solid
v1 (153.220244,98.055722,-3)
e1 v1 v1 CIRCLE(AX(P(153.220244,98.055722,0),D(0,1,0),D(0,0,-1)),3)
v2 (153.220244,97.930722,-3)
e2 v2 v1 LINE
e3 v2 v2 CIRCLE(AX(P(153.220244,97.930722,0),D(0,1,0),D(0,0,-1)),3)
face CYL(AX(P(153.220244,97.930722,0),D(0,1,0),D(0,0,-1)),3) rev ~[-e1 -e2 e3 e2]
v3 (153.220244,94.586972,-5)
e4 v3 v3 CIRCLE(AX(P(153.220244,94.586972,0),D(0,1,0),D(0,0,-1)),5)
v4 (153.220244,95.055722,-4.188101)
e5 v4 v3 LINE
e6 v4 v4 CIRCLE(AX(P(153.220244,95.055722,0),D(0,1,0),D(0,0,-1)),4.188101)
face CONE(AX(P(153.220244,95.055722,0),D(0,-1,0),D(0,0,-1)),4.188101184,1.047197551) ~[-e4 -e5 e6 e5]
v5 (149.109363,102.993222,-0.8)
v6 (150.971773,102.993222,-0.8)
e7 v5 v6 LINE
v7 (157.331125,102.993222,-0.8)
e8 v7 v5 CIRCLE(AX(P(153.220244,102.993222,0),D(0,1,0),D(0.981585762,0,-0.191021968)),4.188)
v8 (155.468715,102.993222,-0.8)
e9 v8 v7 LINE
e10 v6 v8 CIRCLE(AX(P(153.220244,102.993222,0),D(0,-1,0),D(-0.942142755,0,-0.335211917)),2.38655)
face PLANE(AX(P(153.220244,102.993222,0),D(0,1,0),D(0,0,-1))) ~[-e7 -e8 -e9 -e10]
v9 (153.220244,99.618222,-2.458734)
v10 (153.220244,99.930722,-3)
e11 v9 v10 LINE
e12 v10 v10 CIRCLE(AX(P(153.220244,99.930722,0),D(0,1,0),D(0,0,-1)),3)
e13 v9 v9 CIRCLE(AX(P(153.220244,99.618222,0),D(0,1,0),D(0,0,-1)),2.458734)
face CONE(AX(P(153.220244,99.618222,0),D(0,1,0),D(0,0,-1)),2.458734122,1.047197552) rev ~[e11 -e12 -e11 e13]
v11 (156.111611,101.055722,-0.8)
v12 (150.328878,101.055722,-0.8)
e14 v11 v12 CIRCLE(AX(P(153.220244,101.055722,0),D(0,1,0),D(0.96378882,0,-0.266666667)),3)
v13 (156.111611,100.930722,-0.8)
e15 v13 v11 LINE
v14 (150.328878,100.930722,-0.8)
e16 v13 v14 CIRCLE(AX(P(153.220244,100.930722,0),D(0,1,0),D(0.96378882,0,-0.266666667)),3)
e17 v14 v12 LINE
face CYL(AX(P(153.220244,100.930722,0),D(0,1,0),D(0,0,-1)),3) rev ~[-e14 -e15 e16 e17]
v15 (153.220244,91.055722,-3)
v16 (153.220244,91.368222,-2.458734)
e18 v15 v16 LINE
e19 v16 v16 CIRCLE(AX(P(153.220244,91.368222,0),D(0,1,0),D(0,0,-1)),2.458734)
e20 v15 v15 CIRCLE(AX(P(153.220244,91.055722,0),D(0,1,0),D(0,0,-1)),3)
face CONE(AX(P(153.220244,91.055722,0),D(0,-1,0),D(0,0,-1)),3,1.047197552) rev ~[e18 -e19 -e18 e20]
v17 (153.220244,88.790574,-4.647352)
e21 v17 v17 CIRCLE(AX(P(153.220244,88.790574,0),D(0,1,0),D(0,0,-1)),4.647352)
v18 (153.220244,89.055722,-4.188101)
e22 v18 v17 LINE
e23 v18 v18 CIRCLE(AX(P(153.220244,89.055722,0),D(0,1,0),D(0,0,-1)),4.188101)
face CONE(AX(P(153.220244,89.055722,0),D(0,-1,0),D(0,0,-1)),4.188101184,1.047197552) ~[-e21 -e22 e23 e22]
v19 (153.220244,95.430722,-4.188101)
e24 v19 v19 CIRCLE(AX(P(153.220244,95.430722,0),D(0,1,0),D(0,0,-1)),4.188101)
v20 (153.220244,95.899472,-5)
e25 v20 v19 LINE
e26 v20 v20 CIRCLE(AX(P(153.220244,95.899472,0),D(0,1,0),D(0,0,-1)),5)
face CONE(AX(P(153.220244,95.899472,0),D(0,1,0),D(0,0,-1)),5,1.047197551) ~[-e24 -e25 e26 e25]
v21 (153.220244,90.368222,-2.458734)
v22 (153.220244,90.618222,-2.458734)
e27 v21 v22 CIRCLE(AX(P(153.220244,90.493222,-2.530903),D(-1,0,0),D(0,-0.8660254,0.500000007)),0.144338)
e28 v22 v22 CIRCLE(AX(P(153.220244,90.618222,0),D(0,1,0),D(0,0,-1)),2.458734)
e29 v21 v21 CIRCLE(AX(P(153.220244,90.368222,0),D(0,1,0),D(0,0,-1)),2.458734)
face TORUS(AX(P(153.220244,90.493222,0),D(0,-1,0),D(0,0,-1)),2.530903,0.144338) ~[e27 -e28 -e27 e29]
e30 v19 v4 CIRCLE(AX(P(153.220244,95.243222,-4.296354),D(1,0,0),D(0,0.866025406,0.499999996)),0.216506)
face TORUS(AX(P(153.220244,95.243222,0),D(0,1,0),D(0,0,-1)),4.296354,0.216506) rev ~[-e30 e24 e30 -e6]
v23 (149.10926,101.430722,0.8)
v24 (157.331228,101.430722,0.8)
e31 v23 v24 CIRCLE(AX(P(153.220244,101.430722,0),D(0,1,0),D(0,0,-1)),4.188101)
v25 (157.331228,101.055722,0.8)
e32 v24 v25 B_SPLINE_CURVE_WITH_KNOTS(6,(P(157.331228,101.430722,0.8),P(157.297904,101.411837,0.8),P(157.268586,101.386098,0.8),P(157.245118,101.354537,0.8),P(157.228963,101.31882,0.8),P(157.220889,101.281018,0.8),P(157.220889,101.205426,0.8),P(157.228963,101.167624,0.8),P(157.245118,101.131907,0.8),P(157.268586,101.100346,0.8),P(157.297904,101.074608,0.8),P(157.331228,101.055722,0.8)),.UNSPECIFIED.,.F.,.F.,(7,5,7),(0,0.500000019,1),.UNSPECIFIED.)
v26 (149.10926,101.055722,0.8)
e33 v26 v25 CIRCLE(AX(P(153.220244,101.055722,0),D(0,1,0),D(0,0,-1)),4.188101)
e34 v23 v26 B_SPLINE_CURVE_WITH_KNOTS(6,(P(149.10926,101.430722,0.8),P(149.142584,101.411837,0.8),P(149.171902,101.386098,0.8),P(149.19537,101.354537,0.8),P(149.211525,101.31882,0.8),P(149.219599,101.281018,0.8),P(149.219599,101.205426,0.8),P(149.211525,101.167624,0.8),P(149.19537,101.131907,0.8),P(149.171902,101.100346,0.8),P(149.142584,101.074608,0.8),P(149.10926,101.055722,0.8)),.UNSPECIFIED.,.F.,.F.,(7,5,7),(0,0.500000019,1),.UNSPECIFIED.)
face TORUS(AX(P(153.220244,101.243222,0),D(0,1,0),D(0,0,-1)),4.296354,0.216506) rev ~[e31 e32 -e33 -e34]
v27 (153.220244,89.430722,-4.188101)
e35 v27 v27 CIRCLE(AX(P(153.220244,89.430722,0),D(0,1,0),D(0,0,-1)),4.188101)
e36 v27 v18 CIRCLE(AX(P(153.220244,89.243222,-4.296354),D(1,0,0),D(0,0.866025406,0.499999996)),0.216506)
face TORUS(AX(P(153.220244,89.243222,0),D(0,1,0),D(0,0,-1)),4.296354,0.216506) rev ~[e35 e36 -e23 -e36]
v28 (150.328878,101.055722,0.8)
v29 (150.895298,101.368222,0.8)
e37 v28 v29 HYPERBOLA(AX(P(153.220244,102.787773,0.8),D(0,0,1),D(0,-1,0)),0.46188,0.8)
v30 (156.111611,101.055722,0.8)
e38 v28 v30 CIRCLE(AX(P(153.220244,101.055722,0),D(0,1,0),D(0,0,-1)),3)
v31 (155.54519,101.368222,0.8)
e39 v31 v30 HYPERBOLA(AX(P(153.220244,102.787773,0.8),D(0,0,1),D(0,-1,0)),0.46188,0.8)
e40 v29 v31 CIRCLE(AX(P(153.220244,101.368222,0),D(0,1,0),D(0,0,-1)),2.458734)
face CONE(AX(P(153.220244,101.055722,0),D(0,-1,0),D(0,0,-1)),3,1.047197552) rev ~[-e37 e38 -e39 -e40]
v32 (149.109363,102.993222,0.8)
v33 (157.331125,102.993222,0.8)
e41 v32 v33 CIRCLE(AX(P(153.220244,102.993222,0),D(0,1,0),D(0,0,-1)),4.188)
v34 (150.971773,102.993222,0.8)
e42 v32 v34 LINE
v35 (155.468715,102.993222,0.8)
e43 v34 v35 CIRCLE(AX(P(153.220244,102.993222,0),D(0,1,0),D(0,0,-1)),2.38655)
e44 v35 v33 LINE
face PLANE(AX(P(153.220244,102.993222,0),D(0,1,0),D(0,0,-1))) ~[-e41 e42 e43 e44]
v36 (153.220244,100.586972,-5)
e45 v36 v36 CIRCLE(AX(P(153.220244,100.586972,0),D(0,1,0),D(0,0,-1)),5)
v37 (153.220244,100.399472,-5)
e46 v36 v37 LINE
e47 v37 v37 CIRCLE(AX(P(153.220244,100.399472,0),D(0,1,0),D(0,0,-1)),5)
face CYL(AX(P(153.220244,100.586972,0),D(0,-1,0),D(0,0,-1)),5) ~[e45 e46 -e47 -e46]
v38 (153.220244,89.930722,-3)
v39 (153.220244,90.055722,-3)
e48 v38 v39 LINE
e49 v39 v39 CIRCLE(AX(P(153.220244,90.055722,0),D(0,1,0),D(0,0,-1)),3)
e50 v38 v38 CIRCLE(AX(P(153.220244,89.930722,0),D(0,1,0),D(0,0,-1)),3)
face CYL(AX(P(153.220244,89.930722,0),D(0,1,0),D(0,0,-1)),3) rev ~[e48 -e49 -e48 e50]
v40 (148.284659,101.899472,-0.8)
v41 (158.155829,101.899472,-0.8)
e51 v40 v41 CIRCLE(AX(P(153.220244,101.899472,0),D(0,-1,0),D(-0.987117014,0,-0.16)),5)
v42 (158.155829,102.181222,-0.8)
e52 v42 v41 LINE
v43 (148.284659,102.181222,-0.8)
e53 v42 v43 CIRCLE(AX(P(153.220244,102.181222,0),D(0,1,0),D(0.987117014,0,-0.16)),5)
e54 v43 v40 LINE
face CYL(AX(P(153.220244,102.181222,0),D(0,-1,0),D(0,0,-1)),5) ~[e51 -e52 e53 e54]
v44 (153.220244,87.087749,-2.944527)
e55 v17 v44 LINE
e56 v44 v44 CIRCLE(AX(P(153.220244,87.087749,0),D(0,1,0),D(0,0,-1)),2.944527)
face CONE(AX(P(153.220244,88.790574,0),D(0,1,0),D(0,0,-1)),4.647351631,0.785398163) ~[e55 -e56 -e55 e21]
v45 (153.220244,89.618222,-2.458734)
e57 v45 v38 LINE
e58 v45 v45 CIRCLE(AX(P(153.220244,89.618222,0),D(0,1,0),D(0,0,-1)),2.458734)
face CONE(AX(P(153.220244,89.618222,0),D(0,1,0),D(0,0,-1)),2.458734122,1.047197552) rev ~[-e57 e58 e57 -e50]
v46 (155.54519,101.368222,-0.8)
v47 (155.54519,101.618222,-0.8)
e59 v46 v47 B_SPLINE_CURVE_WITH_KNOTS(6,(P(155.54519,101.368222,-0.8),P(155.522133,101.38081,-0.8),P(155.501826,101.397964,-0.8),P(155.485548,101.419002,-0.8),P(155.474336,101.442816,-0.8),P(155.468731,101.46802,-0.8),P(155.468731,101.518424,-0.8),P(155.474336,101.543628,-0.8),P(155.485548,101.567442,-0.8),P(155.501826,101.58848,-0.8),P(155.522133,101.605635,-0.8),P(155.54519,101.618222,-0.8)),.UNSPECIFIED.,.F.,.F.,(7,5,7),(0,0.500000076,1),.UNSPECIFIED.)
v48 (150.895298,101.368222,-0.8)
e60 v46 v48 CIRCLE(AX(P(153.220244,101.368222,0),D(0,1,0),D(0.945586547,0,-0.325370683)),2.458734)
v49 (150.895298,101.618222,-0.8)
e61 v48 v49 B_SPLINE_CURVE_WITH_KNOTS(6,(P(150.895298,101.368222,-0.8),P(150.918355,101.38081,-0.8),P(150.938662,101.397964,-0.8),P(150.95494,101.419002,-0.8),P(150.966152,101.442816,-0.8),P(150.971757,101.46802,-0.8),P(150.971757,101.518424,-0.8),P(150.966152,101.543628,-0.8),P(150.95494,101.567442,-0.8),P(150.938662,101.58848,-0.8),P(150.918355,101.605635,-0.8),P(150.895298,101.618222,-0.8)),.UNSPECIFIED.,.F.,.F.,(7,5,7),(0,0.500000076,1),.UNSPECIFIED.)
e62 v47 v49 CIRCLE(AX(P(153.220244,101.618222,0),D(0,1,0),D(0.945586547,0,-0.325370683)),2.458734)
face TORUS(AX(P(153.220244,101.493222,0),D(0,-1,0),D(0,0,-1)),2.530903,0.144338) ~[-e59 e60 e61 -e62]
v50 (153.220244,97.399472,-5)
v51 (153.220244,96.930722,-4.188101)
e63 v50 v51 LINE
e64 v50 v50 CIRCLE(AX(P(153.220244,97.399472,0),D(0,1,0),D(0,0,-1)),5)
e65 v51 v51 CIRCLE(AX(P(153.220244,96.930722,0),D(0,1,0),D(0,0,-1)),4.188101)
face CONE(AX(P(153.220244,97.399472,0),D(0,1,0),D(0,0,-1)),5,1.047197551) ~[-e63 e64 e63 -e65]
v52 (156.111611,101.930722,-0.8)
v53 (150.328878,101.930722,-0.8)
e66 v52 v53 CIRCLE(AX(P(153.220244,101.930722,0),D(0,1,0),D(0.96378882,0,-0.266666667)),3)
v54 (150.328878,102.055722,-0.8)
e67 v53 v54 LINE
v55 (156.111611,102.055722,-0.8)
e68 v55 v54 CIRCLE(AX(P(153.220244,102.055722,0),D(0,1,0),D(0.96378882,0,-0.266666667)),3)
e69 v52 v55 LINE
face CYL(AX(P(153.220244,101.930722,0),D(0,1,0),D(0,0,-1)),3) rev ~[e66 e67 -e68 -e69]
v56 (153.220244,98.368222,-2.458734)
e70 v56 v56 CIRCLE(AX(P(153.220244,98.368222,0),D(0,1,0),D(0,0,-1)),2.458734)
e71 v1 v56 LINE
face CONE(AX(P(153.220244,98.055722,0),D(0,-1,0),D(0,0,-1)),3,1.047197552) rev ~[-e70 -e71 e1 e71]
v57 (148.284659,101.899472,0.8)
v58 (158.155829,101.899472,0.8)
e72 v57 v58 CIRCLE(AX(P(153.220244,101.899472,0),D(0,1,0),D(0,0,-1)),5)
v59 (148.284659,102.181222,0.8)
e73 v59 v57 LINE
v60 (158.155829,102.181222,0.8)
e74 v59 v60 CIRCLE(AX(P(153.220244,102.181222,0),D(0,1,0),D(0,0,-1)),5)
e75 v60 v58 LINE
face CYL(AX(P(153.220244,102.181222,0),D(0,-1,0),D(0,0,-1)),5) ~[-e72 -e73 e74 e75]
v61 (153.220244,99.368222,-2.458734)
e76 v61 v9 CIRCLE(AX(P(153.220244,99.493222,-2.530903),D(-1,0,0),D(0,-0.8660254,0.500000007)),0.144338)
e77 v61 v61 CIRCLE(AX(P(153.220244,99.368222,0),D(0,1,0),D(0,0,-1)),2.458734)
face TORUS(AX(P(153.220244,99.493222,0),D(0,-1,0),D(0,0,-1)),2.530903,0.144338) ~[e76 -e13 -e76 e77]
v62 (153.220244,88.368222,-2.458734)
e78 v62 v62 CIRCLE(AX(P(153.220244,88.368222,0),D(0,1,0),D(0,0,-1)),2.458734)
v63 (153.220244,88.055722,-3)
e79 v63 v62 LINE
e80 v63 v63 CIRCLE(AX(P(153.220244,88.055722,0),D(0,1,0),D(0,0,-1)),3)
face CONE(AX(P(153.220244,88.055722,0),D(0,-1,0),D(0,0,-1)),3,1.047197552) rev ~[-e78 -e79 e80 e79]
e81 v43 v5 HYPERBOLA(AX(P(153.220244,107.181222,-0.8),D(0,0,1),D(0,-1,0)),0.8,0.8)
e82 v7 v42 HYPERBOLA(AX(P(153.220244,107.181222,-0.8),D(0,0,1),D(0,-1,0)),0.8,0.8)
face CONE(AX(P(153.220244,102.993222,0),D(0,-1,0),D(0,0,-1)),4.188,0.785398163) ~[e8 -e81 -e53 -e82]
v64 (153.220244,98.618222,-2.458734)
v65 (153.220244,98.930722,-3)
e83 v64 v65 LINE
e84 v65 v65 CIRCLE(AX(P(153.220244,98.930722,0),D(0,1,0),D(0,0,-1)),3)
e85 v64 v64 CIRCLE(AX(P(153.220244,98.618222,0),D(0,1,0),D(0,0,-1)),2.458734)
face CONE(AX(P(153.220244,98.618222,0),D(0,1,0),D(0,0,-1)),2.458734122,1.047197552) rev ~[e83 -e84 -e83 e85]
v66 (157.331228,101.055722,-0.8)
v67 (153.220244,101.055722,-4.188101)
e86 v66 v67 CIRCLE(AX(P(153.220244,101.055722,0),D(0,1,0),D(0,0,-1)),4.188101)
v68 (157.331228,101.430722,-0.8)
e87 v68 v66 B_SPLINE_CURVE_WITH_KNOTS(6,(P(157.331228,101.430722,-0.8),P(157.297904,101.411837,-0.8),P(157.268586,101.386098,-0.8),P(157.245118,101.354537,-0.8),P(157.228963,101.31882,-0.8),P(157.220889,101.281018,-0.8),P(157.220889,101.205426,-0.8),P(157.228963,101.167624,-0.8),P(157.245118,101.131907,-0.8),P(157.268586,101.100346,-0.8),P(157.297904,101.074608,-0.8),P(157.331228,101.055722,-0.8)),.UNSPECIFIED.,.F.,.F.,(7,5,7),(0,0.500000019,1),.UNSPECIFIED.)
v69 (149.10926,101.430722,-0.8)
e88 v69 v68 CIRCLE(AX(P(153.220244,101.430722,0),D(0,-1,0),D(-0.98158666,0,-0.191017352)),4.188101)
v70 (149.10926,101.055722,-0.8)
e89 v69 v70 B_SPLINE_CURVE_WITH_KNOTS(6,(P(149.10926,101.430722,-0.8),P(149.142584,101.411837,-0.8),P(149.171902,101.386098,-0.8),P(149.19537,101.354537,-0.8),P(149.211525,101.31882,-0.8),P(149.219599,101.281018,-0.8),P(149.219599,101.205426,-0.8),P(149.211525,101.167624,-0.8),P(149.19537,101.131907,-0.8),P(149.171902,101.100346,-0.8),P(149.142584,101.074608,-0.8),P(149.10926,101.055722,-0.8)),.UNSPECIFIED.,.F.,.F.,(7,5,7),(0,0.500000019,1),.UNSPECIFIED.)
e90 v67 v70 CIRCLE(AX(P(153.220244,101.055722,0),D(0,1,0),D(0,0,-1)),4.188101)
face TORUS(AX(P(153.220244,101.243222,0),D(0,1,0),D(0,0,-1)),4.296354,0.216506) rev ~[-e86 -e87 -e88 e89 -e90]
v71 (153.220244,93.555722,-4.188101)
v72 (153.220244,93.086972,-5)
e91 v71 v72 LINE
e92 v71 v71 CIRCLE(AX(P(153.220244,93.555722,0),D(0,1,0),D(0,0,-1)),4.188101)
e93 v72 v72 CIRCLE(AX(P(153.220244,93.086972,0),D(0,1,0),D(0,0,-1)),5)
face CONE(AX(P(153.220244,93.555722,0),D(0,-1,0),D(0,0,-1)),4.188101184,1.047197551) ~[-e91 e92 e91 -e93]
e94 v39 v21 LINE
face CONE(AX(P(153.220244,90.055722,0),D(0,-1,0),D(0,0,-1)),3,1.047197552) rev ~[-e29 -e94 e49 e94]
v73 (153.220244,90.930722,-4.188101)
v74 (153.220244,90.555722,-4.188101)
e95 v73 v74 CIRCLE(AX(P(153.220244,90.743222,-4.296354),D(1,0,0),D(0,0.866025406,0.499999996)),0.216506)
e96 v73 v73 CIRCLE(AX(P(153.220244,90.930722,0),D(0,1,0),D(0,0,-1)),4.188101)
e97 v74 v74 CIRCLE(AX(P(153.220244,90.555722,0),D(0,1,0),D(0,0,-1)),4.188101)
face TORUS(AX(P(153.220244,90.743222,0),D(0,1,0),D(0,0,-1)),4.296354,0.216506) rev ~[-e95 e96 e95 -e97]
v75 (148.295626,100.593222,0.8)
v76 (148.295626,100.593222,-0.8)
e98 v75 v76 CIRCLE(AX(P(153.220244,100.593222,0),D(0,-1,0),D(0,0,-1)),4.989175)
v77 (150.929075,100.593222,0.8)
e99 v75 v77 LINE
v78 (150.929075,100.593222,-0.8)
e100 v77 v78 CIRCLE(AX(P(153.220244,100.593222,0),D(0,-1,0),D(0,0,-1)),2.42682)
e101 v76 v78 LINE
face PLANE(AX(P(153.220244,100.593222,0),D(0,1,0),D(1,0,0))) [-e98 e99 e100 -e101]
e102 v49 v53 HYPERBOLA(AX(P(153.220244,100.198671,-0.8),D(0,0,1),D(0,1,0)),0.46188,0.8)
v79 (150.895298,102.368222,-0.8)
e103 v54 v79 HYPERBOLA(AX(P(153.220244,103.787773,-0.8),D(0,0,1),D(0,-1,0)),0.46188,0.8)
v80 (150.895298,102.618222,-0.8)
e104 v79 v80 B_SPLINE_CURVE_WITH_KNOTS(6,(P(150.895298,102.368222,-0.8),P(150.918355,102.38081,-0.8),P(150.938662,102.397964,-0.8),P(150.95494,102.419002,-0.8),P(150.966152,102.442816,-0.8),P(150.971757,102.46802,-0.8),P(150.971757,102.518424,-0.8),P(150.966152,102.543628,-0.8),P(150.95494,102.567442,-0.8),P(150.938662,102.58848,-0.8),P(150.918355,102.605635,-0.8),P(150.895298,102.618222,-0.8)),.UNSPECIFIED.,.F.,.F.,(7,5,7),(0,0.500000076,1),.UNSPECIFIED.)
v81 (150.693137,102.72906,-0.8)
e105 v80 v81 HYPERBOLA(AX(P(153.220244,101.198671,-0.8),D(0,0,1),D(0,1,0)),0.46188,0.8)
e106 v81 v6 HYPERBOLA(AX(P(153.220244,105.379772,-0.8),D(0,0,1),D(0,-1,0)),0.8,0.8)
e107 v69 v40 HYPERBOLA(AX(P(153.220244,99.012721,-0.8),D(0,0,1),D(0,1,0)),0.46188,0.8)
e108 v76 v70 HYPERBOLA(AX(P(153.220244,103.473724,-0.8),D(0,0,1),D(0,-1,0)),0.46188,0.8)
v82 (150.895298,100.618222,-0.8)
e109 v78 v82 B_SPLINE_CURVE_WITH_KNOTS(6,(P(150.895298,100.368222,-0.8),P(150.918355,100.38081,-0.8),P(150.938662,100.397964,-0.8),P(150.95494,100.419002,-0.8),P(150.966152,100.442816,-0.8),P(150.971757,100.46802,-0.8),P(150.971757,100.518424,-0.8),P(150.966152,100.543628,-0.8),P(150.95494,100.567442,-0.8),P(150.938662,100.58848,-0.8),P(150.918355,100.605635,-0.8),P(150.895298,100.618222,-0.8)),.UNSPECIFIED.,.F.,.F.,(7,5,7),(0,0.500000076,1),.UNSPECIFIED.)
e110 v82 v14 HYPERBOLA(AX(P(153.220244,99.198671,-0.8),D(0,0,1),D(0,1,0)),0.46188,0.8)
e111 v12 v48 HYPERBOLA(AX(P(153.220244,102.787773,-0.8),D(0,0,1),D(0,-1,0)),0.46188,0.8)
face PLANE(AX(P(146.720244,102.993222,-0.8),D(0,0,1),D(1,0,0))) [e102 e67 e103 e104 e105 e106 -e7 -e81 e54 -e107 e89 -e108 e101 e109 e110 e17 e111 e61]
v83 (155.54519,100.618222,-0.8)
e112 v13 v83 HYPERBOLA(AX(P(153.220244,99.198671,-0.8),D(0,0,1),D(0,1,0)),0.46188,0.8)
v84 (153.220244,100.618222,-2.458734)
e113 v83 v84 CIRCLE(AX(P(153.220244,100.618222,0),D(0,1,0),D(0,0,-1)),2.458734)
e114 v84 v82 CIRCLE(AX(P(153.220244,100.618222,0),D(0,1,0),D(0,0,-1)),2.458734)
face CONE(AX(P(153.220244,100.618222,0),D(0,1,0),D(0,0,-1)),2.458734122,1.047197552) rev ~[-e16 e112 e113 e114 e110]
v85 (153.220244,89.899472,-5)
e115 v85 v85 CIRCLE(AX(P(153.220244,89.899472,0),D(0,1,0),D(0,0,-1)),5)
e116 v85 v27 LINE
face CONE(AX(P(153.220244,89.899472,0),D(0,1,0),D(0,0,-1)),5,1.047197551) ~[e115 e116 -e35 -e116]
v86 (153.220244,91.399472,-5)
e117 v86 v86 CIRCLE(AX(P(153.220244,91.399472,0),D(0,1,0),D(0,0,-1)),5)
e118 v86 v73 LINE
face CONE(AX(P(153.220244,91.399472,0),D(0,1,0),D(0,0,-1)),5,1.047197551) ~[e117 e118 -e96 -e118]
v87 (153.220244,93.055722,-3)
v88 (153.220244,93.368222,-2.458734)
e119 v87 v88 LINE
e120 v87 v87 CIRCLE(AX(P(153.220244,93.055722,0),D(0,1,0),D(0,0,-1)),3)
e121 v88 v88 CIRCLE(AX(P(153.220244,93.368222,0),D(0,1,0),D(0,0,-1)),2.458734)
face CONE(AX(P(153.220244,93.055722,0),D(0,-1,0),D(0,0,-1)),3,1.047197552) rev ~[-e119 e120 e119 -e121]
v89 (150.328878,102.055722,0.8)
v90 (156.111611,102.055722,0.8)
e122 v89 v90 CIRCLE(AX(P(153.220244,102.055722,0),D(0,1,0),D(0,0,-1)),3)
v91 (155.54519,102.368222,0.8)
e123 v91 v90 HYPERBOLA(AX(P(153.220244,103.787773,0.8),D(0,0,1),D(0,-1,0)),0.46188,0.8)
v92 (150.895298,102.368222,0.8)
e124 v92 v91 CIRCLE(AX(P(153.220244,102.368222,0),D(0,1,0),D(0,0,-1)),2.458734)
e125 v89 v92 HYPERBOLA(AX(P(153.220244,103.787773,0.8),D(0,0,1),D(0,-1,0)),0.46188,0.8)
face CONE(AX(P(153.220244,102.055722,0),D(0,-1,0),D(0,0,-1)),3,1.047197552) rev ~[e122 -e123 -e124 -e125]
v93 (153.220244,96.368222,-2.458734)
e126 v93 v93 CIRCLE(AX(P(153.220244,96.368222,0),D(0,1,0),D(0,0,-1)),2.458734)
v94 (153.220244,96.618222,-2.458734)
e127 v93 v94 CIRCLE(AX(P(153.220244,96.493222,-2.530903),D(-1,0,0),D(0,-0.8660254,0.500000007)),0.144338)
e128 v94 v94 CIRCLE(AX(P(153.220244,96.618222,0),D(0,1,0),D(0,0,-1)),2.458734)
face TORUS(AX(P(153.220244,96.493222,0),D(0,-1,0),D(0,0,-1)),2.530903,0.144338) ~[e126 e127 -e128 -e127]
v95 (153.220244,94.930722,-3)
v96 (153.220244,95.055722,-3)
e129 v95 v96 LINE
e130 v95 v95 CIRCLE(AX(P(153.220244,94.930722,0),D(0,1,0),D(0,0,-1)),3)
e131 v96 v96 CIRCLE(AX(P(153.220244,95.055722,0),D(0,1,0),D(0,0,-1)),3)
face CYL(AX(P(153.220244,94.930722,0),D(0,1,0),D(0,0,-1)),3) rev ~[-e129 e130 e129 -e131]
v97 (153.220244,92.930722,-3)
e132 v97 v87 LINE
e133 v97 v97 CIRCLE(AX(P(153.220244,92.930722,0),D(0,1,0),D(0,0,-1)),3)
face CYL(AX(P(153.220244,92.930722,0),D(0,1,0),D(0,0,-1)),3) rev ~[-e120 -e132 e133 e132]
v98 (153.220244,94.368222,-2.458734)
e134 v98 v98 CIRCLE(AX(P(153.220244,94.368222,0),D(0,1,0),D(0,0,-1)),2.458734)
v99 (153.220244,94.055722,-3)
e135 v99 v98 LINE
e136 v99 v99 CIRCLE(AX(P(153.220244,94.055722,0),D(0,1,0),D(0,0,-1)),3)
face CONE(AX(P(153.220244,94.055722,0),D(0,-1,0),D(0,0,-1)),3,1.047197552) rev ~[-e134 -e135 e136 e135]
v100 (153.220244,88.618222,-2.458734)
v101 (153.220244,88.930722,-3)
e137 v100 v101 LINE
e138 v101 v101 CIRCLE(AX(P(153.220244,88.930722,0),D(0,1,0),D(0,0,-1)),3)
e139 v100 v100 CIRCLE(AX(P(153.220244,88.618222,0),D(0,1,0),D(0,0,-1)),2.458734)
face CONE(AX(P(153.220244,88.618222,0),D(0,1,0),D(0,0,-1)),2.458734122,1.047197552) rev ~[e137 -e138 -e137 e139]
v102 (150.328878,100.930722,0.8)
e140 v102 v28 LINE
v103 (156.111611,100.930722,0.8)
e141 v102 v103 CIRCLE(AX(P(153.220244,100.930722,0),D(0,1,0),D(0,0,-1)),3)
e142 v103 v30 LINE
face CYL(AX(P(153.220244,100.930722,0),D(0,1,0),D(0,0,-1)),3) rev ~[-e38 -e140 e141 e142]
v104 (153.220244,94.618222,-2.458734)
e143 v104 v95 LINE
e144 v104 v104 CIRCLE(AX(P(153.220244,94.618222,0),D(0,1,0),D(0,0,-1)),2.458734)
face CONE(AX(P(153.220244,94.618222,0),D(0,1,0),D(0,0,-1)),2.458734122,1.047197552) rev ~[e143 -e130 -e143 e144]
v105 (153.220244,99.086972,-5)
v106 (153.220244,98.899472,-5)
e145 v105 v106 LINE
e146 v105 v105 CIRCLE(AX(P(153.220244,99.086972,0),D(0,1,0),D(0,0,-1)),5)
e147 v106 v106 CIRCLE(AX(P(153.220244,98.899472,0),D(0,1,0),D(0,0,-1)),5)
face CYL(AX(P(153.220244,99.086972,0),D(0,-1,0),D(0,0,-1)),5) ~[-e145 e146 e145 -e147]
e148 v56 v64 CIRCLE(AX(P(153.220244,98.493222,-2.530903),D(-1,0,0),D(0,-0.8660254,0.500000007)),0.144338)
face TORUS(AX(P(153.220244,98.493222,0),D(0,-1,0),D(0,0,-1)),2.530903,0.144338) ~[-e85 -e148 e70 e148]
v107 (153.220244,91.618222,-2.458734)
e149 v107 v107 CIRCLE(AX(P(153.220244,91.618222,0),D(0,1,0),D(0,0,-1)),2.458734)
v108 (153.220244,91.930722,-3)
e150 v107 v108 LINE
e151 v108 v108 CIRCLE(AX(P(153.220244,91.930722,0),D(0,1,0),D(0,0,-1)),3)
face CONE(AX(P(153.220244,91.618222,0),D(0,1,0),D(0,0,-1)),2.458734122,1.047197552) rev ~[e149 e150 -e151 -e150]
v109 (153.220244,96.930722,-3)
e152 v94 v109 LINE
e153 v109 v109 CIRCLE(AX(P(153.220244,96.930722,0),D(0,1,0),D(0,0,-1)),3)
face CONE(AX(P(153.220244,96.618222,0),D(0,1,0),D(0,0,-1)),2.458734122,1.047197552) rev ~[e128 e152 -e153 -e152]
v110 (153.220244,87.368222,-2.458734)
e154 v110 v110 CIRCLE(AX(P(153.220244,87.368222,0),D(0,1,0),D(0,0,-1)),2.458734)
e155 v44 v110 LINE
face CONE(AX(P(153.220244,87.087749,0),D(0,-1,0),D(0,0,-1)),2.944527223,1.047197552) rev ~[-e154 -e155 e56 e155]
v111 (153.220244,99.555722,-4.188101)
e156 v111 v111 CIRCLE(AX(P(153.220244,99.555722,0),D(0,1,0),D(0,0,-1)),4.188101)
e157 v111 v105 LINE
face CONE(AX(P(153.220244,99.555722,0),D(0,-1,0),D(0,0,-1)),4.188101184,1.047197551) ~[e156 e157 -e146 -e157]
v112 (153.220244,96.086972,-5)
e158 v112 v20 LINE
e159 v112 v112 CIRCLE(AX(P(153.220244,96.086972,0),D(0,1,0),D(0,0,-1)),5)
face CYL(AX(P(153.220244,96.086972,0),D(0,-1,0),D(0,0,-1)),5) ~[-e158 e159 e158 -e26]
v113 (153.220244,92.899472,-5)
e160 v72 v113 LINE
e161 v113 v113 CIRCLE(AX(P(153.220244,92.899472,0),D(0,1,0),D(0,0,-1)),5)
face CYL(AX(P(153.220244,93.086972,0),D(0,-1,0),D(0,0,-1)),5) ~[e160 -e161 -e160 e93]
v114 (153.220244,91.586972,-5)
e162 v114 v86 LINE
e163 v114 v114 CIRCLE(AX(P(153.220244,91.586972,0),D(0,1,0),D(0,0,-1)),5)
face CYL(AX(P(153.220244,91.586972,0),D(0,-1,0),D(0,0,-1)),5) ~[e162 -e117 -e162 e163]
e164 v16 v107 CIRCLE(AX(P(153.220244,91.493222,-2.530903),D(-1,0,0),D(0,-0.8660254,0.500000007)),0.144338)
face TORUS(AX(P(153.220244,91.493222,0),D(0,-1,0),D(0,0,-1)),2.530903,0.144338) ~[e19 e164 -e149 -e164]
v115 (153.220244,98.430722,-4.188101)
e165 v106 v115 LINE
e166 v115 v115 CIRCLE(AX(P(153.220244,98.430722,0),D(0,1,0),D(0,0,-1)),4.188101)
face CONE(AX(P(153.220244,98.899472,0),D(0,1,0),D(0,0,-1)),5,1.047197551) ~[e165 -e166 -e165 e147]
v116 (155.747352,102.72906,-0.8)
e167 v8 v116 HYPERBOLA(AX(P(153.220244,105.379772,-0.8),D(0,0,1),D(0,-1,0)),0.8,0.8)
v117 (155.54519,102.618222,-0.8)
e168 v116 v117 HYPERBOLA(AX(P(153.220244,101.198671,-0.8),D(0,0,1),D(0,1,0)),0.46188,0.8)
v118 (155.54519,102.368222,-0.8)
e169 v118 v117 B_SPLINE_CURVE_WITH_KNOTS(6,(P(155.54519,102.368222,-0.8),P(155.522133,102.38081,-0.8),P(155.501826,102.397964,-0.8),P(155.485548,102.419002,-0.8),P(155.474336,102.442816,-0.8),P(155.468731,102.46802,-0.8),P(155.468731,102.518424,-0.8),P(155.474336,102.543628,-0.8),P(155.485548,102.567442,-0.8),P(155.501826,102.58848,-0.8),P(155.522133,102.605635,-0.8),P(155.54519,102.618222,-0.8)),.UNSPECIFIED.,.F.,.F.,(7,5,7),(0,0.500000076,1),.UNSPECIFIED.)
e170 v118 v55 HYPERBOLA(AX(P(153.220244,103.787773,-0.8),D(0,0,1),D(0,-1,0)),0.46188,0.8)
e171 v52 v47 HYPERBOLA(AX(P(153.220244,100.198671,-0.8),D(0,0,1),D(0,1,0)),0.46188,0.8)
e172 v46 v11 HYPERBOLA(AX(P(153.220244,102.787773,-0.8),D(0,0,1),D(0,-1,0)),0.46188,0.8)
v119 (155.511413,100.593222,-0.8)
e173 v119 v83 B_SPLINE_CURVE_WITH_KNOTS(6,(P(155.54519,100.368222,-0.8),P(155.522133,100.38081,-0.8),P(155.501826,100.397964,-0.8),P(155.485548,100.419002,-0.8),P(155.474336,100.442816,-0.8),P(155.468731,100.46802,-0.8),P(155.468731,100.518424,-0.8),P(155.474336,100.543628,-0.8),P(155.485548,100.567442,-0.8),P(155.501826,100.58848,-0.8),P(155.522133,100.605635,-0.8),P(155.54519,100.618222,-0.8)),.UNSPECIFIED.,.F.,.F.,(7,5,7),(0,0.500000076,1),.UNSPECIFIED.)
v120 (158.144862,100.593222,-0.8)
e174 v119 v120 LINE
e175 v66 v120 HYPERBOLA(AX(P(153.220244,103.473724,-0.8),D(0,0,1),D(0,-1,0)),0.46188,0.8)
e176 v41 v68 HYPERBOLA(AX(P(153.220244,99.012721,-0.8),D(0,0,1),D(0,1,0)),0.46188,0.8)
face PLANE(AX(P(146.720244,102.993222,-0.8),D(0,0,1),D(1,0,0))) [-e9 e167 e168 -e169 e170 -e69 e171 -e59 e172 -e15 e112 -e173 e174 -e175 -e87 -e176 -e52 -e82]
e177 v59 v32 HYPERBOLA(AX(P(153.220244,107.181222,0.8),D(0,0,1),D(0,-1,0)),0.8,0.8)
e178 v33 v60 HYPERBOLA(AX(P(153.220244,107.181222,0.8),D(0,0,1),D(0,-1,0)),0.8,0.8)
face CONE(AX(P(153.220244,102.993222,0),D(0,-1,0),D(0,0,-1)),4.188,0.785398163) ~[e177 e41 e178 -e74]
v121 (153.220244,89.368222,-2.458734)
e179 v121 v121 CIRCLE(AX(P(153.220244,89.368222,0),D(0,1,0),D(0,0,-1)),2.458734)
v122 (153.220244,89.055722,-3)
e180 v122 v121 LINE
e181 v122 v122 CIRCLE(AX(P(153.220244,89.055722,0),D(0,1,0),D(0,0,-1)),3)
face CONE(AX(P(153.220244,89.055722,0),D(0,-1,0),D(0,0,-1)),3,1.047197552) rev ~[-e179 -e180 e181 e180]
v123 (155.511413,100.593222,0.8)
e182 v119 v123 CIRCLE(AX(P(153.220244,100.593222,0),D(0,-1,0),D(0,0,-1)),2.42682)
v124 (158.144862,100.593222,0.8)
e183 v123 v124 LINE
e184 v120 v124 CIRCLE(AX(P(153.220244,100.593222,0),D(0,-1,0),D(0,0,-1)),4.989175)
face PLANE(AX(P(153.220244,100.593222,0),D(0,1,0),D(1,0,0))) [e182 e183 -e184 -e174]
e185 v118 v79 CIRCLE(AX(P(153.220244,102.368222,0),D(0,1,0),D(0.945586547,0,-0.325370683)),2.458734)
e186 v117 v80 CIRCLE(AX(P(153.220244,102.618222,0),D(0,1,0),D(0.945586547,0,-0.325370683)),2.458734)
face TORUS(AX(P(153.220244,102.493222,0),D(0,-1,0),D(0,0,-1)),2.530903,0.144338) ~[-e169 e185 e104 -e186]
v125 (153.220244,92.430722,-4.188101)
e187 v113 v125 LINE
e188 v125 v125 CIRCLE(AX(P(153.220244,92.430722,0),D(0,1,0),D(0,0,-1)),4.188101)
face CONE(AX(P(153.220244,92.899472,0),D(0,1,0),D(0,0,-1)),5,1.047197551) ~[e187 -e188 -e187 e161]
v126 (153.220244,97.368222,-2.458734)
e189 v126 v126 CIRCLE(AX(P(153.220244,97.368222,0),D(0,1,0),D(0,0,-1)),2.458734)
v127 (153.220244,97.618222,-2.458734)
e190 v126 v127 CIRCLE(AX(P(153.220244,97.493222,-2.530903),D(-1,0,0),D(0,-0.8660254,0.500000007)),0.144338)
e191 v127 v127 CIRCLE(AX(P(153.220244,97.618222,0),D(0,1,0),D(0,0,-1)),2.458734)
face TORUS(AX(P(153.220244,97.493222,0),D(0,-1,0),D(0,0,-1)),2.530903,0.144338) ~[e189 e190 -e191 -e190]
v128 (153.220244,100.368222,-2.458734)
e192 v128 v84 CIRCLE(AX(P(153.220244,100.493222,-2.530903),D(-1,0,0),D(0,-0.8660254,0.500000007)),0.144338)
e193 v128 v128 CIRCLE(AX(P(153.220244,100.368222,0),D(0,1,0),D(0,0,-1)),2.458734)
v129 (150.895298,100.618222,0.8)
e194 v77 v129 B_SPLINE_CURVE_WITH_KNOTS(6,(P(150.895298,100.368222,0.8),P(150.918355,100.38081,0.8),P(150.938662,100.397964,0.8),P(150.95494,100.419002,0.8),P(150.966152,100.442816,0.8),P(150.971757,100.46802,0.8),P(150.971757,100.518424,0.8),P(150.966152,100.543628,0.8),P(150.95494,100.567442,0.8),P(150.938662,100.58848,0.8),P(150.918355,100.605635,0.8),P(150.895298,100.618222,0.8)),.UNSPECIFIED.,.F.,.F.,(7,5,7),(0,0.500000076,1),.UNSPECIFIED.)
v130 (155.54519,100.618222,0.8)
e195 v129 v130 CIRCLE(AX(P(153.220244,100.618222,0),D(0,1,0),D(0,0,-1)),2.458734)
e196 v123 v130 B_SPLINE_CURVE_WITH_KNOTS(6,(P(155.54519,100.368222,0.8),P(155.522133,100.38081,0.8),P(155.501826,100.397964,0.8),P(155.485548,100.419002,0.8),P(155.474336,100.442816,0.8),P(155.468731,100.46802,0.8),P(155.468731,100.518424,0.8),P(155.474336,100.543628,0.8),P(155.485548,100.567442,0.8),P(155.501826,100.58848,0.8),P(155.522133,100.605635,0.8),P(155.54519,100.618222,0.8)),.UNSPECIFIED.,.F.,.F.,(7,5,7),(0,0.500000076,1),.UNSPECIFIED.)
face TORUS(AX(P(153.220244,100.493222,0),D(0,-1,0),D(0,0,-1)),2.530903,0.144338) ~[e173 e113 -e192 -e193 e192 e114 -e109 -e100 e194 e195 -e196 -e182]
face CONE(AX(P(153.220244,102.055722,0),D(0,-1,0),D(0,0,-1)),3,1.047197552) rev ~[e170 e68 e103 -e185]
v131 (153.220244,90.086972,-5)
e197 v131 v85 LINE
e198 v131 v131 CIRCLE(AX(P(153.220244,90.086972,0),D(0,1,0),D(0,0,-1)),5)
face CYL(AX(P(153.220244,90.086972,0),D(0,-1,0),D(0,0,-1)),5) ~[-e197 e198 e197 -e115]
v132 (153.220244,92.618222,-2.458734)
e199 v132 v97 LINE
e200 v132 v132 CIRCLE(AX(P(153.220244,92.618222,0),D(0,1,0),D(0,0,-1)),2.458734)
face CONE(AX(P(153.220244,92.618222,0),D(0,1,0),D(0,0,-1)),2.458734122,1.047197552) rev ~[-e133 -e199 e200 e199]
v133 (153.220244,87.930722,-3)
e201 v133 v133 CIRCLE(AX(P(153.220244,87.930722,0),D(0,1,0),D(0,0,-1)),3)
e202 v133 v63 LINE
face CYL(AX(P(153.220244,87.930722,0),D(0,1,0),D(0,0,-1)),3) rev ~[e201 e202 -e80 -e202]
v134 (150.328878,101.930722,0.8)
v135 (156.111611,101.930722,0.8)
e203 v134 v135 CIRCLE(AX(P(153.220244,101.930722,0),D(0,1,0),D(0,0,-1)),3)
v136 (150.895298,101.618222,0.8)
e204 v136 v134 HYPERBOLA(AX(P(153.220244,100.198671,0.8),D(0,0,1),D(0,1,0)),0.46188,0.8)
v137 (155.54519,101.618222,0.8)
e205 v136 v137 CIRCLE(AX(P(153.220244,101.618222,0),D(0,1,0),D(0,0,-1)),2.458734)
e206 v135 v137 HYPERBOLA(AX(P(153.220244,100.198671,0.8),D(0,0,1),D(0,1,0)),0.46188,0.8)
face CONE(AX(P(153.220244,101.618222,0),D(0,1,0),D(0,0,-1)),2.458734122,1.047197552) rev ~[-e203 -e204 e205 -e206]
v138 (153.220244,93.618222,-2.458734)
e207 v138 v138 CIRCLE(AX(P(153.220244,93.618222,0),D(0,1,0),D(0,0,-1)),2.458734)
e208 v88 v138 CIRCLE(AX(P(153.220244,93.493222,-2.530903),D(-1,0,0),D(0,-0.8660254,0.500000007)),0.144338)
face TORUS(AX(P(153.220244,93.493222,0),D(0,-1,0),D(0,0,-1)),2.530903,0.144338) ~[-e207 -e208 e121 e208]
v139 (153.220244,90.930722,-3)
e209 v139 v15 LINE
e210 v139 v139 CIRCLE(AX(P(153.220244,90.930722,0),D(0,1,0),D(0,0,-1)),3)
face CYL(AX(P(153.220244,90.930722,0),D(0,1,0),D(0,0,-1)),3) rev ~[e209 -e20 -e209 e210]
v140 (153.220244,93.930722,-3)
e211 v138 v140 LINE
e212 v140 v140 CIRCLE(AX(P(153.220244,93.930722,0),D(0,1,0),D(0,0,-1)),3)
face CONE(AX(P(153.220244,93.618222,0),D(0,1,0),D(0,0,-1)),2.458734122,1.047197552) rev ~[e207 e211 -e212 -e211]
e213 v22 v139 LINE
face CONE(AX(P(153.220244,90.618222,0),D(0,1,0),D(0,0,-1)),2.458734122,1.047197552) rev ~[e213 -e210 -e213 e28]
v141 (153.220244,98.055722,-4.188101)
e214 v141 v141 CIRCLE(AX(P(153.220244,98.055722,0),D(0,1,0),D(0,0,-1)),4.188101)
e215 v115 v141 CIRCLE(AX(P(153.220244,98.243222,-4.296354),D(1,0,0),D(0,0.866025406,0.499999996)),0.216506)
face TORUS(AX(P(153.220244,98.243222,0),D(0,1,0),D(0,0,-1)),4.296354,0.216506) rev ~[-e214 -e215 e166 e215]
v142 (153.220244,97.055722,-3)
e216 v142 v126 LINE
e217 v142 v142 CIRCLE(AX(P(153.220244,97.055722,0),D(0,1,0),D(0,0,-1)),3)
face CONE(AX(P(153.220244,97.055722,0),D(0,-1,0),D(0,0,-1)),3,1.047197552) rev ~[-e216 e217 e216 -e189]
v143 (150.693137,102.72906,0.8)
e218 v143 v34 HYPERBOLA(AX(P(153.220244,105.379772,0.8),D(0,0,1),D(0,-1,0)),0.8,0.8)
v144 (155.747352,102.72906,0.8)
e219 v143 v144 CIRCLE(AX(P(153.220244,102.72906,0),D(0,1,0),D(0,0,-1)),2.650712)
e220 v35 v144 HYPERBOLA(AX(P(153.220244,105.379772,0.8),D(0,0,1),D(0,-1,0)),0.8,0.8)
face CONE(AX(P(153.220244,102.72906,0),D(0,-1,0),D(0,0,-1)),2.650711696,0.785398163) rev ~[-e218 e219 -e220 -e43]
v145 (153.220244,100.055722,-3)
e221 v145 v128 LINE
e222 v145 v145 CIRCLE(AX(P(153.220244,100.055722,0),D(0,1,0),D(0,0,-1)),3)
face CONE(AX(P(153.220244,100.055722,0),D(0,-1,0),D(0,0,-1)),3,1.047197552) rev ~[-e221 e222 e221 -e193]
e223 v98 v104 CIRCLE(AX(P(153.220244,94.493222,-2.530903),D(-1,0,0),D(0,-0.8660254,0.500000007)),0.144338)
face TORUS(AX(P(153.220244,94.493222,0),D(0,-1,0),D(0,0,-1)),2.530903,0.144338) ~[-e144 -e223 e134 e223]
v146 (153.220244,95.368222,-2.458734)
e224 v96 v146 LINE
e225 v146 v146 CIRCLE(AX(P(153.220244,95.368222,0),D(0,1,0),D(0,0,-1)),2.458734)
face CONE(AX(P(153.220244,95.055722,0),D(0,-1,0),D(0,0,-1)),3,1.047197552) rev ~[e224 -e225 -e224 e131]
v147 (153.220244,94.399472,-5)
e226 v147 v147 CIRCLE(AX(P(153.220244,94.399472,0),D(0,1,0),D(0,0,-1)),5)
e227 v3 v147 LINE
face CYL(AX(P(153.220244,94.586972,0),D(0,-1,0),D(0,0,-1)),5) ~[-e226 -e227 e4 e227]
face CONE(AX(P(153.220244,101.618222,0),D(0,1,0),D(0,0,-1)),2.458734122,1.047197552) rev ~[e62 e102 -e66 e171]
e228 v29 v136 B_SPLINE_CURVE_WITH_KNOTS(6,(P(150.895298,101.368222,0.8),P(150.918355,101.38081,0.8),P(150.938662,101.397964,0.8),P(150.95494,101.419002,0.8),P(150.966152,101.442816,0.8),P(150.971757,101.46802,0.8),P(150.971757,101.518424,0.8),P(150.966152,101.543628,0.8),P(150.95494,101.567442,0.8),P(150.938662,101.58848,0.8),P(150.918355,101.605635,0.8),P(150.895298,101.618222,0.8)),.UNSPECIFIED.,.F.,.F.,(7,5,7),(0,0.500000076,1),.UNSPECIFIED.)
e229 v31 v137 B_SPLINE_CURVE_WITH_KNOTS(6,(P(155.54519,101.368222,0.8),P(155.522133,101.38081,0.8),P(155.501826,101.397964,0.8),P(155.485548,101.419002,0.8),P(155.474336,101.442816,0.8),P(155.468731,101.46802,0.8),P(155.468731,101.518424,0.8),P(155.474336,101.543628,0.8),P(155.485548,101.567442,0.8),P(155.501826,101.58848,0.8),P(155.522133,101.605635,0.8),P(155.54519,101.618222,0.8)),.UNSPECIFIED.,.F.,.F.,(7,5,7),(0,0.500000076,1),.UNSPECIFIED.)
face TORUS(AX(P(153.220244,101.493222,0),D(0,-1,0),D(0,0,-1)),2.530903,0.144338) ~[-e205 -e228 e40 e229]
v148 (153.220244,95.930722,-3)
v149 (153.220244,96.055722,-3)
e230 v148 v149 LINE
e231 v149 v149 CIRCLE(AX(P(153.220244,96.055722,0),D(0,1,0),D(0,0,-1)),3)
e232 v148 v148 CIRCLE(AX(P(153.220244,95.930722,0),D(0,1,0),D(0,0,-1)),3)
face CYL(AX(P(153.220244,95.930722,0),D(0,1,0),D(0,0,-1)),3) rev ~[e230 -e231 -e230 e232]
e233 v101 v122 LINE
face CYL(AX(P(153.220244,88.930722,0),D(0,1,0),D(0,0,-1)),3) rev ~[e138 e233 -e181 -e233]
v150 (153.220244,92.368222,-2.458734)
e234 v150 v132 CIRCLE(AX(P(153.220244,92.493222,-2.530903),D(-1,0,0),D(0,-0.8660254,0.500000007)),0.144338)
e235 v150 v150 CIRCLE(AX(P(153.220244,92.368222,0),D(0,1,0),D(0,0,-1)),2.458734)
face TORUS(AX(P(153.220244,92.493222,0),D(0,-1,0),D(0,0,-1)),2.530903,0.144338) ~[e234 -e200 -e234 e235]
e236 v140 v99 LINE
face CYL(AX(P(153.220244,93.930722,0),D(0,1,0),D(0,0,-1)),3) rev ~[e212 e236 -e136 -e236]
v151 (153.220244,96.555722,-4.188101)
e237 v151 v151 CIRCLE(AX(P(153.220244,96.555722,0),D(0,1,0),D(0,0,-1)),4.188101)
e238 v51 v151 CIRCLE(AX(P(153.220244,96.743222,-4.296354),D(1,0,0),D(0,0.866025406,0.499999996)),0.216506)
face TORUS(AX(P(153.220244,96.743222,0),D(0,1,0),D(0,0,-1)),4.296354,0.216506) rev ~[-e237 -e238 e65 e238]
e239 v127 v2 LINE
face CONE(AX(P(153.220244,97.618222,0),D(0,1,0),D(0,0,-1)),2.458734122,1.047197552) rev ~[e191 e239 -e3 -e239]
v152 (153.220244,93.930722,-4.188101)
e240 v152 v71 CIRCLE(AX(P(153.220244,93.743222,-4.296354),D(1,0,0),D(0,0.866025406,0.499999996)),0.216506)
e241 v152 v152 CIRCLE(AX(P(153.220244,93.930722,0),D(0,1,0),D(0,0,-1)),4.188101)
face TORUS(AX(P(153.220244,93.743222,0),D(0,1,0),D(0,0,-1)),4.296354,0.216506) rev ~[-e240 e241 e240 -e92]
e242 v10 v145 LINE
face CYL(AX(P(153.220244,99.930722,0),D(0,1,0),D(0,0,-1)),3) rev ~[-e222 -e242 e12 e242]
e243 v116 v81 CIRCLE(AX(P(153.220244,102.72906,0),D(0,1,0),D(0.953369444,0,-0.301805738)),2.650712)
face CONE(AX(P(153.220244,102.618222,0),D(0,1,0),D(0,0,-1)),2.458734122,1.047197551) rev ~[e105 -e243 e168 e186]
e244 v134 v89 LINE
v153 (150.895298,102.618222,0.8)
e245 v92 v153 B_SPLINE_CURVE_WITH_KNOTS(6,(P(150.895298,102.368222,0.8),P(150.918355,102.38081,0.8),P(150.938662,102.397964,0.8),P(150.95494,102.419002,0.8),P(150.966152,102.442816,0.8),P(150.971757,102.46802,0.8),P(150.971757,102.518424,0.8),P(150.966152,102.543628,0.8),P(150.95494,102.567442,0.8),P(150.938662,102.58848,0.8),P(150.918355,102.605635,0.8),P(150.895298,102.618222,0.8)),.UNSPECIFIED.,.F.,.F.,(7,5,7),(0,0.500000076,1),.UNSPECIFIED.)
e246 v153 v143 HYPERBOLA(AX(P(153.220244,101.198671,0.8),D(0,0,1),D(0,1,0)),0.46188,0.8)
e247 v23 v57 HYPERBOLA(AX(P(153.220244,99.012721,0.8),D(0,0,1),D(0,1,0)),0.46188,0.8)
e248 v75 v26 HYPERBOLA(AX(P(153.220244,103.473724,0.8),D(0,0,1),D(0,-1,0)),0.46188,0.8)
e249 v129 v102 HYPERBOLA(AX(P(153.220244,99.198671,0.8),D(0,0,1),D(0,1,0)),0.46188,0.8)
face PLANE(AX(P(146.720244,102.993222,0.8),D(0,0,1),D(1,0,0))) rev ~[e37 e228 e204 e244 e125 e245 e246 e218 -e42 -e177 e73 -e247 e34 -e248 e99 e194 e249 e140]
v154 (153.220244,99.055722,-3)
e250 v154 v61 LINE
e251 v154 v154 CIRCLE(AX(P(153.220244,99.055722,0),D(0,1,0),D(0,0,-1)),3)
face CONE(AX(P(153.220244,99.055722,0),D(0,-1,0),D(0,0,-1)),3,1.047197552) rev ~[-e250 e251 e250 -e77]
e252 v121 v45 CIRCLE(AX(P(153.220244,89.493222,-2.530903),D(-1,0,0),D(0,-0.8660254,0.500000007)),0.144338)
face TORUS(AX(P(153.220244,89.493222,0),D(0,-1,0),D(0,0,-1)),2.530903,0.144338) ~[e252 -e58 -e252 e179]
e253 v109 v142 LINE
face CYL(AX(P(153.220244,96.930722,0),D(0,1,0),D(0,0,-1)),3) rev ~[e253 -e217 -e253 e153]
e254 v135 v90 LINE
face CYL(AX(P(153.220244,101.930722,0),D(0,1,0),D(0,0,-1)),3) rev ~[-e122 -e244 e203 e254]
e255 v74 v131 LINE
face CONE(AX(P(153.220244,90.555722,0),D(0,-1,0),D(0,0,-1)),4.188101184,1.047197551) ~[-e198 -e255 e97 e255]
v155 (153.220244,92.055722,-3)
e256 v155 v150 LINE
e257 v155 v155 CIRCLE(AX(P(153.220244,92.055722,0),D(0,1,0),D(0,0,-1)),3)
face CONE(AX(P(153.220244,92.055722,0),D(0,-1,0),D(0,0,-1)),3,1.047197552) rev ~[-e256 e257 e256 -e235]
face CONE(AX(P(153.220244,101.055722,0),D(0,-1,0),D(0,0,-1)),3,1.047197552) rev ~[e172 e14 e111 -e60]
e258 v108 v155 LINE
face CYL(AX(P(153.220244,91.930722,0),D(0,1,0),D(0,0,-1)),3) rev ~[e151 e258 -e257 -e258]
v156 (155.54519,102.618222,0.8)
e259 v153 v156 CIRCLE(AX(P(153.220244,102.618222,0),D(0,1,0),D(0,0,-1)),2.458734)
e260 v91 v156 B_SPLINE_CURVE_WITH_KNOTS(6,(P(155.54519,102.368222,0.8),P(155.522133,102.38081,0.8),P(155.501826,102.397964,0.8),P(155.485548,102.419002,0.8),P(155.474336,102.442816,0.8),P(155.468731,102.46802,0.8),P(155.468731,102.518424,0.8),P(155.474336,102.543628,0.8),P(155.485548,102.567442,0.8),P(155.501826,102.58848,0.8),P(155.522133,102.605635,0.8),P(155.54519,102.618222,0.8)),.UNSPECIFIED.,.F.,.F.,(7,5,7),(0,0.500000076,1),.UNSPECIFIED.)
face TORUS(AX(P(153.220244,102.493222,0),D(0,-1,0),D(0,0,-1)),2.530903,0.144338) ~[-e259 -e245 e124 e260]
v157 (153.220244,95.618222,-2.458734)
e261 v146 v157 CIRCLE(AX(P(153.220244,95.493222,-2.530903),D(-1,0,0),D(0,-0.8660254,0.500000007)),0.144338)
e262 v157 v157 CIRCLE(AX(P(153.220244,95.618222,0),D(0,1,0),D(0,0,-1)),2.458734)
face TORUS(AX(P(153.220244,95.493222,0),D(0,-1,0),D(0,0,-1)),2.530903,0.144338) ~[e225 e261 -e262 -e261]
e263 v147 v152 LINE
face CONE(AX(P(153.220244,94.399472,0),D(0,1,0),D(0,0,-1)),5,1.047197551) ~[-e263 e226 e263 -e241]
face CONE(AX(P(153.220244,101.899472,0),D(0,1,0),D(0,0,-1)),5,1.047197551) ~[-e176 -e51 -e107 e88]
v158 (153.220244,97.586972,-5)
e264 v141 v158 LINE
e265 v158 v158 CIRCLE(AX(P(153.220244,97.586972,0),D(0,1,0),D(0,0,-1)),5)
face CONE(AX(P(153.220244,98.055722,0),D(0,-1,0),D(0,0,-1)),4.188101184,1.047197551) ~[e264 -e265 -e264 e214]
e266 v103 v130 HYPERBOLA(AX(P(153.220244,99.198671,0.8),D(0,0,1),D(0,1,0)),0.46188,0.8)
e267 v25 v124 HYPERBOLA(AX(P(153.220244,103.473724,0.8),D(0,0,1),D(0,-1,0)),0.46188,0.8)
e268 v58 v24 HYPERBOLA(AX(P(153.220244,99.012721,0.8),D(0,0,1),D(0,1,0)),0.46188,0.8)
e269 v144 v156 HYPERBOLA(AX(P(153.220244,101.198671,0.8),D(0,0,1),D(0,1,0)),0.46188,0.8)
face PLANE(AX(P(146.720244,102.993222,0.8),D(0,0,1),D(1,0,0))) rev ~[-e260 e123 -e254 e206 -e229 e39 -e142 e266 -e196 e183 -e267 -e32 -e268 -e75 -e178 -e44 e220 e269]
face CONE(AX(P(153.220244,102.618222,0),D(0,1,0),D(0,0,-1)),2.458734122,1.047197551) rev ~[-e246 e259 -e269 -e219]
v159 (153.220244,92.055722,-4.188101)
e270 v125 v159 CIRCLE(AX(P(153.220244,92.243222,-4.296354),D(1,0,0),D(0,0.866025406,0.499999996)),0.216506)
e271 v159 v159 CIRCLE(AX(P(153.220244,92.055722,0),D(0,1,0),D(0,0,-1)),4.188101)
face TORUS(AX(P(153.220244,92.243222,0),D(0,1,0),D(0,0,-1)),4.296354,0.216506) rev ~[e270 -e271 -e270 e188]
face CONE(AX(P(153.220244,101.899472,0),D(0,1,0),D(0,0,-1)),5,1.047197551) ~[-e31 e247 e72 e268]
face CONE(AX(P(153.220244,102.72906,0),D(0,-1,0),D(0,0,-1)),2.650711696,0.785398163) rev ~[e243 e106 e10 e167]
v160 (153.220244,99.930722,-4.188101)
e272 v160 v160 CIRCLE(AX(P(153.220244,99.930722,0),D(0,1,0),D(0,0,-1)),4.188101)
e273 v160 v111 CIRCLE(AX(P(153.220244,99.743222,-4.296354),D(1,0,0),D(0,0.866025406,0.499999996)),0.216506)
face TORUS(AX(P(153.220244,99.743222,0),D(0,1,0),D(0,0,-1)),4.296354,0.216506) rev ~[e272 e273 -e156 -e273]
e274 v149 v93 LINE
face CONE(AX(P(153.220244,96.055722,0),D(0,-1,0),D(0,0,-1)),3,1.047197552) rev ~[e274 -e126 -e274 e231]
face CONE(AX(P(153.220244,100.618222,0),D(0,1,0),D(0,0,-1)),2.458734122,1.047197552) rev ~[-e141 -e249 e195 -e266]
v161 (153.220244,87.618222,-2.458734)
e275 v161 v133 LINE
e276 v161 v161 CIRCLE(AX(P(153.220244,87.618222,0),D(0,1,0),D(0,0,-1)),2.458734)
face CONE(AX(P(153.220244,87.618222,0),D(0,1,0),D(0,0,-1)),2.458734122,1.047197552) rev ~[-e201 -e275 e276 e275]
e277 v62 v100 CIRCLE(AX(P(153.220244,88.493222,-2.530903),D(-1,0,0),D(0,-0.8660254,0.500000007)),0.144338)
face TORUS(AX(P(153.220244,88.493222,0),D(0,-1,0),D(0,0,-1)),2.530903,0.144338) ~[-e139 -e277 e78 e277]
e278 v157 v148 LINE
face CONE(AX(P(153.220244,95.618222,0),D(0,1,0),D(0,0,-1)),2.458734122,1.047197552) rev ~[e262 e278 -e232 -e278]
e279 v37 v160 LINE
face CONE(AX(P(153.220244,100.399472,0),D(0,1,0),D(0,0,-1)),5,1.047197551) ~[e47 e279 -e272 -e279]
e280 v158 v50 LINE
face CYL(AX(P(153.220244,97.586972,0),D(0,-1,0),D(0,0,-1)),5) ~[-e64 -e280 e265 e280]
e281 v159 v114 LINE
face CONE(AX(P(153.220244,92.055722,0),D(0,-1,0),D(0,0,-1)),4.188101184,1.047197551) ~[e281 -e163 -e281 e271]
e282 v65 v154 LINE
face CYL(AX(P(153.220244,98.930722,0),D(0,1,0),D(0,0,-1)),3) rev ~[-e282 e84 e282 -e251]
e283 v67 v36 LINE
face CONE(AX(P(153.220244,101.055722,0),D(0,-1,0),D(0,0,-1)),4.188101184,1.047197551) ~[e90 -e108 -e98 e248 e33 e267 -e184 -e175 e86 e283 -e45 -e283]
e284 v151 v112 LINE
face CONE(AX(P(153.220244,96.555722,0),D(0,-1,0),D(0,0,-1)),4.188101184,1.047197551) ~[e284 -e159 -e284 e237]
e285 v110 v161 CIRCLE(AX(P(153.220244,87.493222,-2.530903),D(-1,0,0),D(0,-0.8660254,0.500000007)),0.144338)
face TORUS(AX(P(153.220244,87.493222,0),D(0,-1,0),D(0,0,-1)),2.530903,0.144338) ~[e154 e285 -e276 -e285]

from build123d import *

# Parameters (mm, degrees)
SKETCH_2_W          = 13
SKETCH_2_H          = 1.6
CUT_EXTRUDE_1_DEPTH = 2.4


with BuildPart() as part:
    # 草图1 → 旋转2 (revolve)
    with BuildSketch(Plane.XY, mode=Mode.PRIVATE) as revolve_2_sk:
        with BuildLine():
            Line((157.408345239, 101.055722157), (158.220244055, 100.586972157))
            Line((158.220244055, 100.586972157), (158.220244055, 100.399472157))
            Line((158.220244055, 100.399472157), (157.408345239, 99.930722157))
            ThreePointArc((157.408345239, 99.930722157), (157.300092063, 99.743222157), (157.408345239, 99.555722157))
            Line((157.408345239, 99.555722157), (158.220244055, 99.086972157))
            Line((158.220244055, 99.086972157), (158.220244055, 98.899472157))
            Line((158.220244055, 98.899472157), (157.408345239, 98.430722157))
            ThreePointArc((157.408345239, 98.430722157), (157.300092063, 98.243222157), (157.408345239, 98.055722157))
            Line((157.408345239, 98.055722157), (158.220244055, 97.586972157))
            Line((158.220244055, 97.586972157), (158.220244055, 97.399472157))
            Line((158.220244055, 97.399472157), (157.408345239, 96.930722157))
            ThreePointArc((157.408345239, 96.930722157), (157.300092063, 96.743222157), (157.408345239, 96.555722157))
            Line((157.408345239, 96.555722157), (158.220244055, 96.086972157))
            Line((158.220244055, 96.086972157), (158.220244055, 95.899472157))
            Line((158.220244055, 95.899472157), (157.408345239, 95.430722157))
            ThreePointArc((157.408345239, 95.430722157), (157.300092063, 95.243222157), (157.408345239, 95.055722157))
            Line((157.408345239, 95.055722157), (158.220244055, 94.586972157))
            Line((158.220244055, 94.586972157), (158.220244055, 94.399472157))
            Line((158.220244055, 94.399472157), (157.408345239, 93.930722157))
            ThreePointArc((157.408345239, 93.930722157), (157.300092063, 93.743222157), (157.408345239, 93.555722157))
            Line((157.408345239, 93.555722157), (158.220244055, 93.086972157))
            Line((158.220244055, 93.086972157), (158.220244055, 92.899472157))
            Line((158.220244055, 92.899472157), (157.408345239, 92.430722157))
            ThreePointArc((157.408345239, 92.430722157), (157.300092063, 92.243222157), (157.408345239, 92.055722157))
            Line((157.408345239, 92.055722157), (158.220244055, 91.586972157))
            Line((158.220244055, 91.586972157), (158.220244055, 91.399472157))
            Line((158.220244055, 91.399472157), (157.408345239, 90.930722157))
            ThreePointArc((157.408345239, 90.930722157), (157.300092063, 90.743222157), (157.408345239, 90.555722157))
            Line((157.408345239, 90.555722157), (158.220244055, 90.086972157))
            Line((158.220244055, 90.086972157), (158.220244055, 89.899472157))
            Line((158.220244055, 89.899472157), (157.408345239, 89.430722157))
            ThreePointArc((157.408345239, 89.430722157), (157.300092063, 89.243222157), (157.408345239, 89.055722157))
            Line((157.408345239, 89.055722157), (157.867595686, 88.790573788))
            Line((157.867595686, 88.790573788), (156.164771278, 87.08774938))
            Line((156.164771278, 87.08774938), (155.678978177, 87.368222157))
            ThreePointArc((155.678978177, 87.368222157), (155.606809394, 87.493222157), (155.678978177, 87.618222157))
            Line((155.678978177, 87.618222157), (156.220244055, 87.930722157))
            Line((156.220244055, 87.930722157), (156.220244055, 88.055722157))
            Line((156.220244055, 88.055722157), (155.678978177, 88.368222157))
            ThreePointArc((155.678978177, 88.368222157), (155.606809394, 88.493222157), (155.678978177, 88.618222157))
            Line((155.678978177, 88.618222157), (156.220244055, 88.930722157))
            Line((156.220244055, 88.930722157), (156.220244055, 89.055722157))
            Line((156.220244055, 89.055722157), (155.678978177, 89.368222157))
            ThreePointArc((155.678978177, 89.368222157), (155.606809394, 89.493222157), (155.678978177, 89.618222157))
            Line((155.678978177, 89.618222157), (156.220244055, 89.930722157))
            Line((156.220244055, 89.930722157), (156.220244055, 90.055722157))
            Line((156.220244055, 90.055722157), (155.678978177, 90.368222157))
            ThreePointArc((155.678978177, 90.368222157), (155.606809394, 90.493222157), (155.678978177, 90.618222157))
            Line((155.678978177, 90.618222157), (156.220244055, 90.930722157))
            Line((156.220244055, 90.930722157), (156.220244055, 91.055722157))
            Line((156.220244055, 91.055722157), (155.678978177, 91.368222157))
            ThreePointArc((155.678978177, 91.368222157), (155.606809394, 91.493222157), (155.678978177, 91.618222157))
            Line((155.678978177, 91.618222157), (156.220244055, 91.930722157))
            Line((156.220244055, 91.930722157), (156.220244055, 92.055722157))
            Line((156.220244055, 92.055722157), (155.678978177, 92.368222157))
            ThreePointArc((155.678978177, 92.368222157), (155.606809394, 92.493222157), (155.678978177, 92.618222157))
            Line((155.678978177, 92.618222157), (156.220244055, 92.930722157))
            Line((156.220244055, 92.930722157), (156.220244055, 93.055722157))
            Line((156.220244055, 93.055722157), (155.678978177, 93.368222157))
            ThreePointArc((155.678978177, 93.368222157), (155.606809394, 93.493222157), (155.678978177, 93.618222157))
            Line((155.678978177, 93.618222157), (156.220244055, 93.930722157))
            Line((156.220244055, 93.930722157), (156.220244055, 94.055722157))
            Line((156.220244055, 94.055722157), (155.678978177, 94.368222157))
            ThreePointArc((155.678978177, 94.368222157), (155.606809394, 94.493222157), (155.678978177, 94.618222157))
            Line((155.678978177, 94.618222157), (156.220244055, 94.930722157))
            Line((156.220244055, 94.930722157), (156.220244055, 95.055722157))
            Line((156.220244055, 95.055722157), (155.678978177, 95.368222157))
            ThreePointArc((155.678978177, 95.368222157), (155.606809394, 95.493222157), (155.678978177, 95.618222157))
            Line((155.678978177, 95.618222157), (156.220244055, 95.930722157))
            Line((156.220244055, 95.930722157), (156.220244055, 96.055722157))
            Line((156.220244055, 96.055722157), (155.678978177, 96.368222157))
            ThreePointArc((155.678978177, 96.368222157), (155.606809394, 96.493222157), (155.678978177, 96.618222157))
            Line((155.678978177, 96.618222157), (156.220244055, 96.930722157))
            Line((156.220244055, 96.930722157), (156.220244055, 97.055722157))
            Line((156.220244055, 97.055722157), (155.678978177, 97.368222157))
            ThreePointArc((155.678978177, 97.368222157), (155.606809394, 97.493222157), (155.678978177, 97.618222157))
            Line((155.678978177, 97.618222157), (156.220244055, 97.930722157))
            Line((156.220244055, 97.930722157), (156.220244055, 98.055722157))
            Line((156.220244055, 98.055722157), (155.678978177, 98.368222157))
            ThreePointArc((155.678978177, 98.368222157), (155.606809394, 98.493222157), (155.678978177, 98.618222157))
            Line((155.678978177, 98.618222157), (156.220244055, 98.930722157))
            Line((156.220244055, 98.930722157), (156.220244055, 99.055722157))
            Line((156.220244055, 99.055722157), (155.678978177, 99.368222157))
            ThreePointArc((155.678978177, 99.368222157), (155.606809394, 99.493222157), (155.678978177, 99.618222157))
            Line((155.678978177, 99.618222157), (156.220244055, 99.930722157))
            Line((156.220244055, 99.930722157), (156.220244055, 100.055722157))
            Line((156.220244055, 100.055722157), (155.678978177, 100.368222157))
            ThreePointArc((155.678978177, 100.368222157), (155.606809394, 100.493222157), (155.678978177, 100.618222157))
            Line((155.678978177, 100.618222157), (156.220244055, 100.930722157))
            Line((156.220244055, 100.930722157), (156.220244055, 101.055722157))
            Line((156.220244055, 101.055722157), (155.678978177, 101.368222157))
            ThreePointArc((155.678978177, 101.368222157), (155.606809394, 101.493222157), (155.678978177, 101.618222157))
            Line((155.678978177, 101.618222157), (156.220244055, 101.930722157))
            Line((156.220244055, 101.930722157), (156.220244055, 102.055722157))
            Line((156.220244055, 102.055722157), (155.678978177, 102.368222157))
            ThreePointArc((155.678978177, 102.368222157), (155.606809394, 102.493222157), (155.678978177, 102.618222157))
            Line((155.678978177, 102.618222157), (155.870955751, 102.729060461))
            Line((155.870955751, 102.729060461), (155.606794055, 102.993222157))
            Line((155.606794055, 102.993222157), (157.408244055, 102.993222157))
            Line((157.408244055, 102.993222157), (158.220244055, 102.181222157))
            Line((158.220244055, 102.181222157), (158.220244055, 101.899472157))
            Line((158.220244055, 101.899472157), (157.408345239, 101.430722157))
            ThreePointArc((157.408345239, 101.430722157), (157.300092063, 101.243222157), (157.408345239, 101.055722157))
        make_face()
    revolve(revolve_2_sk.sketch.rotate(Axis((153.220244055, 87.08774938, 0), (0, 1, 0)), 90), axis=Axis((153.220244055, 87.08774938, 0), (0, 1, 0)))  # turned: the seam where the file's is

    # 草图2 → 切除-拉伸1 (cut)
    with BuildSketch(Plane(origin=(0, 102.993222157, 0), x_dir=(1, 0, 0), z_dir=(0, 1, 0))):
        with Locations((153.220244055, 0)):
            Rectangle(SKETCH_2_W, SKETCH_2_H)
    extrude(amount=-CUT_EXTRUDE_1_DEPTH, mode=Mode.SUBTRACT)


solid = part.part
